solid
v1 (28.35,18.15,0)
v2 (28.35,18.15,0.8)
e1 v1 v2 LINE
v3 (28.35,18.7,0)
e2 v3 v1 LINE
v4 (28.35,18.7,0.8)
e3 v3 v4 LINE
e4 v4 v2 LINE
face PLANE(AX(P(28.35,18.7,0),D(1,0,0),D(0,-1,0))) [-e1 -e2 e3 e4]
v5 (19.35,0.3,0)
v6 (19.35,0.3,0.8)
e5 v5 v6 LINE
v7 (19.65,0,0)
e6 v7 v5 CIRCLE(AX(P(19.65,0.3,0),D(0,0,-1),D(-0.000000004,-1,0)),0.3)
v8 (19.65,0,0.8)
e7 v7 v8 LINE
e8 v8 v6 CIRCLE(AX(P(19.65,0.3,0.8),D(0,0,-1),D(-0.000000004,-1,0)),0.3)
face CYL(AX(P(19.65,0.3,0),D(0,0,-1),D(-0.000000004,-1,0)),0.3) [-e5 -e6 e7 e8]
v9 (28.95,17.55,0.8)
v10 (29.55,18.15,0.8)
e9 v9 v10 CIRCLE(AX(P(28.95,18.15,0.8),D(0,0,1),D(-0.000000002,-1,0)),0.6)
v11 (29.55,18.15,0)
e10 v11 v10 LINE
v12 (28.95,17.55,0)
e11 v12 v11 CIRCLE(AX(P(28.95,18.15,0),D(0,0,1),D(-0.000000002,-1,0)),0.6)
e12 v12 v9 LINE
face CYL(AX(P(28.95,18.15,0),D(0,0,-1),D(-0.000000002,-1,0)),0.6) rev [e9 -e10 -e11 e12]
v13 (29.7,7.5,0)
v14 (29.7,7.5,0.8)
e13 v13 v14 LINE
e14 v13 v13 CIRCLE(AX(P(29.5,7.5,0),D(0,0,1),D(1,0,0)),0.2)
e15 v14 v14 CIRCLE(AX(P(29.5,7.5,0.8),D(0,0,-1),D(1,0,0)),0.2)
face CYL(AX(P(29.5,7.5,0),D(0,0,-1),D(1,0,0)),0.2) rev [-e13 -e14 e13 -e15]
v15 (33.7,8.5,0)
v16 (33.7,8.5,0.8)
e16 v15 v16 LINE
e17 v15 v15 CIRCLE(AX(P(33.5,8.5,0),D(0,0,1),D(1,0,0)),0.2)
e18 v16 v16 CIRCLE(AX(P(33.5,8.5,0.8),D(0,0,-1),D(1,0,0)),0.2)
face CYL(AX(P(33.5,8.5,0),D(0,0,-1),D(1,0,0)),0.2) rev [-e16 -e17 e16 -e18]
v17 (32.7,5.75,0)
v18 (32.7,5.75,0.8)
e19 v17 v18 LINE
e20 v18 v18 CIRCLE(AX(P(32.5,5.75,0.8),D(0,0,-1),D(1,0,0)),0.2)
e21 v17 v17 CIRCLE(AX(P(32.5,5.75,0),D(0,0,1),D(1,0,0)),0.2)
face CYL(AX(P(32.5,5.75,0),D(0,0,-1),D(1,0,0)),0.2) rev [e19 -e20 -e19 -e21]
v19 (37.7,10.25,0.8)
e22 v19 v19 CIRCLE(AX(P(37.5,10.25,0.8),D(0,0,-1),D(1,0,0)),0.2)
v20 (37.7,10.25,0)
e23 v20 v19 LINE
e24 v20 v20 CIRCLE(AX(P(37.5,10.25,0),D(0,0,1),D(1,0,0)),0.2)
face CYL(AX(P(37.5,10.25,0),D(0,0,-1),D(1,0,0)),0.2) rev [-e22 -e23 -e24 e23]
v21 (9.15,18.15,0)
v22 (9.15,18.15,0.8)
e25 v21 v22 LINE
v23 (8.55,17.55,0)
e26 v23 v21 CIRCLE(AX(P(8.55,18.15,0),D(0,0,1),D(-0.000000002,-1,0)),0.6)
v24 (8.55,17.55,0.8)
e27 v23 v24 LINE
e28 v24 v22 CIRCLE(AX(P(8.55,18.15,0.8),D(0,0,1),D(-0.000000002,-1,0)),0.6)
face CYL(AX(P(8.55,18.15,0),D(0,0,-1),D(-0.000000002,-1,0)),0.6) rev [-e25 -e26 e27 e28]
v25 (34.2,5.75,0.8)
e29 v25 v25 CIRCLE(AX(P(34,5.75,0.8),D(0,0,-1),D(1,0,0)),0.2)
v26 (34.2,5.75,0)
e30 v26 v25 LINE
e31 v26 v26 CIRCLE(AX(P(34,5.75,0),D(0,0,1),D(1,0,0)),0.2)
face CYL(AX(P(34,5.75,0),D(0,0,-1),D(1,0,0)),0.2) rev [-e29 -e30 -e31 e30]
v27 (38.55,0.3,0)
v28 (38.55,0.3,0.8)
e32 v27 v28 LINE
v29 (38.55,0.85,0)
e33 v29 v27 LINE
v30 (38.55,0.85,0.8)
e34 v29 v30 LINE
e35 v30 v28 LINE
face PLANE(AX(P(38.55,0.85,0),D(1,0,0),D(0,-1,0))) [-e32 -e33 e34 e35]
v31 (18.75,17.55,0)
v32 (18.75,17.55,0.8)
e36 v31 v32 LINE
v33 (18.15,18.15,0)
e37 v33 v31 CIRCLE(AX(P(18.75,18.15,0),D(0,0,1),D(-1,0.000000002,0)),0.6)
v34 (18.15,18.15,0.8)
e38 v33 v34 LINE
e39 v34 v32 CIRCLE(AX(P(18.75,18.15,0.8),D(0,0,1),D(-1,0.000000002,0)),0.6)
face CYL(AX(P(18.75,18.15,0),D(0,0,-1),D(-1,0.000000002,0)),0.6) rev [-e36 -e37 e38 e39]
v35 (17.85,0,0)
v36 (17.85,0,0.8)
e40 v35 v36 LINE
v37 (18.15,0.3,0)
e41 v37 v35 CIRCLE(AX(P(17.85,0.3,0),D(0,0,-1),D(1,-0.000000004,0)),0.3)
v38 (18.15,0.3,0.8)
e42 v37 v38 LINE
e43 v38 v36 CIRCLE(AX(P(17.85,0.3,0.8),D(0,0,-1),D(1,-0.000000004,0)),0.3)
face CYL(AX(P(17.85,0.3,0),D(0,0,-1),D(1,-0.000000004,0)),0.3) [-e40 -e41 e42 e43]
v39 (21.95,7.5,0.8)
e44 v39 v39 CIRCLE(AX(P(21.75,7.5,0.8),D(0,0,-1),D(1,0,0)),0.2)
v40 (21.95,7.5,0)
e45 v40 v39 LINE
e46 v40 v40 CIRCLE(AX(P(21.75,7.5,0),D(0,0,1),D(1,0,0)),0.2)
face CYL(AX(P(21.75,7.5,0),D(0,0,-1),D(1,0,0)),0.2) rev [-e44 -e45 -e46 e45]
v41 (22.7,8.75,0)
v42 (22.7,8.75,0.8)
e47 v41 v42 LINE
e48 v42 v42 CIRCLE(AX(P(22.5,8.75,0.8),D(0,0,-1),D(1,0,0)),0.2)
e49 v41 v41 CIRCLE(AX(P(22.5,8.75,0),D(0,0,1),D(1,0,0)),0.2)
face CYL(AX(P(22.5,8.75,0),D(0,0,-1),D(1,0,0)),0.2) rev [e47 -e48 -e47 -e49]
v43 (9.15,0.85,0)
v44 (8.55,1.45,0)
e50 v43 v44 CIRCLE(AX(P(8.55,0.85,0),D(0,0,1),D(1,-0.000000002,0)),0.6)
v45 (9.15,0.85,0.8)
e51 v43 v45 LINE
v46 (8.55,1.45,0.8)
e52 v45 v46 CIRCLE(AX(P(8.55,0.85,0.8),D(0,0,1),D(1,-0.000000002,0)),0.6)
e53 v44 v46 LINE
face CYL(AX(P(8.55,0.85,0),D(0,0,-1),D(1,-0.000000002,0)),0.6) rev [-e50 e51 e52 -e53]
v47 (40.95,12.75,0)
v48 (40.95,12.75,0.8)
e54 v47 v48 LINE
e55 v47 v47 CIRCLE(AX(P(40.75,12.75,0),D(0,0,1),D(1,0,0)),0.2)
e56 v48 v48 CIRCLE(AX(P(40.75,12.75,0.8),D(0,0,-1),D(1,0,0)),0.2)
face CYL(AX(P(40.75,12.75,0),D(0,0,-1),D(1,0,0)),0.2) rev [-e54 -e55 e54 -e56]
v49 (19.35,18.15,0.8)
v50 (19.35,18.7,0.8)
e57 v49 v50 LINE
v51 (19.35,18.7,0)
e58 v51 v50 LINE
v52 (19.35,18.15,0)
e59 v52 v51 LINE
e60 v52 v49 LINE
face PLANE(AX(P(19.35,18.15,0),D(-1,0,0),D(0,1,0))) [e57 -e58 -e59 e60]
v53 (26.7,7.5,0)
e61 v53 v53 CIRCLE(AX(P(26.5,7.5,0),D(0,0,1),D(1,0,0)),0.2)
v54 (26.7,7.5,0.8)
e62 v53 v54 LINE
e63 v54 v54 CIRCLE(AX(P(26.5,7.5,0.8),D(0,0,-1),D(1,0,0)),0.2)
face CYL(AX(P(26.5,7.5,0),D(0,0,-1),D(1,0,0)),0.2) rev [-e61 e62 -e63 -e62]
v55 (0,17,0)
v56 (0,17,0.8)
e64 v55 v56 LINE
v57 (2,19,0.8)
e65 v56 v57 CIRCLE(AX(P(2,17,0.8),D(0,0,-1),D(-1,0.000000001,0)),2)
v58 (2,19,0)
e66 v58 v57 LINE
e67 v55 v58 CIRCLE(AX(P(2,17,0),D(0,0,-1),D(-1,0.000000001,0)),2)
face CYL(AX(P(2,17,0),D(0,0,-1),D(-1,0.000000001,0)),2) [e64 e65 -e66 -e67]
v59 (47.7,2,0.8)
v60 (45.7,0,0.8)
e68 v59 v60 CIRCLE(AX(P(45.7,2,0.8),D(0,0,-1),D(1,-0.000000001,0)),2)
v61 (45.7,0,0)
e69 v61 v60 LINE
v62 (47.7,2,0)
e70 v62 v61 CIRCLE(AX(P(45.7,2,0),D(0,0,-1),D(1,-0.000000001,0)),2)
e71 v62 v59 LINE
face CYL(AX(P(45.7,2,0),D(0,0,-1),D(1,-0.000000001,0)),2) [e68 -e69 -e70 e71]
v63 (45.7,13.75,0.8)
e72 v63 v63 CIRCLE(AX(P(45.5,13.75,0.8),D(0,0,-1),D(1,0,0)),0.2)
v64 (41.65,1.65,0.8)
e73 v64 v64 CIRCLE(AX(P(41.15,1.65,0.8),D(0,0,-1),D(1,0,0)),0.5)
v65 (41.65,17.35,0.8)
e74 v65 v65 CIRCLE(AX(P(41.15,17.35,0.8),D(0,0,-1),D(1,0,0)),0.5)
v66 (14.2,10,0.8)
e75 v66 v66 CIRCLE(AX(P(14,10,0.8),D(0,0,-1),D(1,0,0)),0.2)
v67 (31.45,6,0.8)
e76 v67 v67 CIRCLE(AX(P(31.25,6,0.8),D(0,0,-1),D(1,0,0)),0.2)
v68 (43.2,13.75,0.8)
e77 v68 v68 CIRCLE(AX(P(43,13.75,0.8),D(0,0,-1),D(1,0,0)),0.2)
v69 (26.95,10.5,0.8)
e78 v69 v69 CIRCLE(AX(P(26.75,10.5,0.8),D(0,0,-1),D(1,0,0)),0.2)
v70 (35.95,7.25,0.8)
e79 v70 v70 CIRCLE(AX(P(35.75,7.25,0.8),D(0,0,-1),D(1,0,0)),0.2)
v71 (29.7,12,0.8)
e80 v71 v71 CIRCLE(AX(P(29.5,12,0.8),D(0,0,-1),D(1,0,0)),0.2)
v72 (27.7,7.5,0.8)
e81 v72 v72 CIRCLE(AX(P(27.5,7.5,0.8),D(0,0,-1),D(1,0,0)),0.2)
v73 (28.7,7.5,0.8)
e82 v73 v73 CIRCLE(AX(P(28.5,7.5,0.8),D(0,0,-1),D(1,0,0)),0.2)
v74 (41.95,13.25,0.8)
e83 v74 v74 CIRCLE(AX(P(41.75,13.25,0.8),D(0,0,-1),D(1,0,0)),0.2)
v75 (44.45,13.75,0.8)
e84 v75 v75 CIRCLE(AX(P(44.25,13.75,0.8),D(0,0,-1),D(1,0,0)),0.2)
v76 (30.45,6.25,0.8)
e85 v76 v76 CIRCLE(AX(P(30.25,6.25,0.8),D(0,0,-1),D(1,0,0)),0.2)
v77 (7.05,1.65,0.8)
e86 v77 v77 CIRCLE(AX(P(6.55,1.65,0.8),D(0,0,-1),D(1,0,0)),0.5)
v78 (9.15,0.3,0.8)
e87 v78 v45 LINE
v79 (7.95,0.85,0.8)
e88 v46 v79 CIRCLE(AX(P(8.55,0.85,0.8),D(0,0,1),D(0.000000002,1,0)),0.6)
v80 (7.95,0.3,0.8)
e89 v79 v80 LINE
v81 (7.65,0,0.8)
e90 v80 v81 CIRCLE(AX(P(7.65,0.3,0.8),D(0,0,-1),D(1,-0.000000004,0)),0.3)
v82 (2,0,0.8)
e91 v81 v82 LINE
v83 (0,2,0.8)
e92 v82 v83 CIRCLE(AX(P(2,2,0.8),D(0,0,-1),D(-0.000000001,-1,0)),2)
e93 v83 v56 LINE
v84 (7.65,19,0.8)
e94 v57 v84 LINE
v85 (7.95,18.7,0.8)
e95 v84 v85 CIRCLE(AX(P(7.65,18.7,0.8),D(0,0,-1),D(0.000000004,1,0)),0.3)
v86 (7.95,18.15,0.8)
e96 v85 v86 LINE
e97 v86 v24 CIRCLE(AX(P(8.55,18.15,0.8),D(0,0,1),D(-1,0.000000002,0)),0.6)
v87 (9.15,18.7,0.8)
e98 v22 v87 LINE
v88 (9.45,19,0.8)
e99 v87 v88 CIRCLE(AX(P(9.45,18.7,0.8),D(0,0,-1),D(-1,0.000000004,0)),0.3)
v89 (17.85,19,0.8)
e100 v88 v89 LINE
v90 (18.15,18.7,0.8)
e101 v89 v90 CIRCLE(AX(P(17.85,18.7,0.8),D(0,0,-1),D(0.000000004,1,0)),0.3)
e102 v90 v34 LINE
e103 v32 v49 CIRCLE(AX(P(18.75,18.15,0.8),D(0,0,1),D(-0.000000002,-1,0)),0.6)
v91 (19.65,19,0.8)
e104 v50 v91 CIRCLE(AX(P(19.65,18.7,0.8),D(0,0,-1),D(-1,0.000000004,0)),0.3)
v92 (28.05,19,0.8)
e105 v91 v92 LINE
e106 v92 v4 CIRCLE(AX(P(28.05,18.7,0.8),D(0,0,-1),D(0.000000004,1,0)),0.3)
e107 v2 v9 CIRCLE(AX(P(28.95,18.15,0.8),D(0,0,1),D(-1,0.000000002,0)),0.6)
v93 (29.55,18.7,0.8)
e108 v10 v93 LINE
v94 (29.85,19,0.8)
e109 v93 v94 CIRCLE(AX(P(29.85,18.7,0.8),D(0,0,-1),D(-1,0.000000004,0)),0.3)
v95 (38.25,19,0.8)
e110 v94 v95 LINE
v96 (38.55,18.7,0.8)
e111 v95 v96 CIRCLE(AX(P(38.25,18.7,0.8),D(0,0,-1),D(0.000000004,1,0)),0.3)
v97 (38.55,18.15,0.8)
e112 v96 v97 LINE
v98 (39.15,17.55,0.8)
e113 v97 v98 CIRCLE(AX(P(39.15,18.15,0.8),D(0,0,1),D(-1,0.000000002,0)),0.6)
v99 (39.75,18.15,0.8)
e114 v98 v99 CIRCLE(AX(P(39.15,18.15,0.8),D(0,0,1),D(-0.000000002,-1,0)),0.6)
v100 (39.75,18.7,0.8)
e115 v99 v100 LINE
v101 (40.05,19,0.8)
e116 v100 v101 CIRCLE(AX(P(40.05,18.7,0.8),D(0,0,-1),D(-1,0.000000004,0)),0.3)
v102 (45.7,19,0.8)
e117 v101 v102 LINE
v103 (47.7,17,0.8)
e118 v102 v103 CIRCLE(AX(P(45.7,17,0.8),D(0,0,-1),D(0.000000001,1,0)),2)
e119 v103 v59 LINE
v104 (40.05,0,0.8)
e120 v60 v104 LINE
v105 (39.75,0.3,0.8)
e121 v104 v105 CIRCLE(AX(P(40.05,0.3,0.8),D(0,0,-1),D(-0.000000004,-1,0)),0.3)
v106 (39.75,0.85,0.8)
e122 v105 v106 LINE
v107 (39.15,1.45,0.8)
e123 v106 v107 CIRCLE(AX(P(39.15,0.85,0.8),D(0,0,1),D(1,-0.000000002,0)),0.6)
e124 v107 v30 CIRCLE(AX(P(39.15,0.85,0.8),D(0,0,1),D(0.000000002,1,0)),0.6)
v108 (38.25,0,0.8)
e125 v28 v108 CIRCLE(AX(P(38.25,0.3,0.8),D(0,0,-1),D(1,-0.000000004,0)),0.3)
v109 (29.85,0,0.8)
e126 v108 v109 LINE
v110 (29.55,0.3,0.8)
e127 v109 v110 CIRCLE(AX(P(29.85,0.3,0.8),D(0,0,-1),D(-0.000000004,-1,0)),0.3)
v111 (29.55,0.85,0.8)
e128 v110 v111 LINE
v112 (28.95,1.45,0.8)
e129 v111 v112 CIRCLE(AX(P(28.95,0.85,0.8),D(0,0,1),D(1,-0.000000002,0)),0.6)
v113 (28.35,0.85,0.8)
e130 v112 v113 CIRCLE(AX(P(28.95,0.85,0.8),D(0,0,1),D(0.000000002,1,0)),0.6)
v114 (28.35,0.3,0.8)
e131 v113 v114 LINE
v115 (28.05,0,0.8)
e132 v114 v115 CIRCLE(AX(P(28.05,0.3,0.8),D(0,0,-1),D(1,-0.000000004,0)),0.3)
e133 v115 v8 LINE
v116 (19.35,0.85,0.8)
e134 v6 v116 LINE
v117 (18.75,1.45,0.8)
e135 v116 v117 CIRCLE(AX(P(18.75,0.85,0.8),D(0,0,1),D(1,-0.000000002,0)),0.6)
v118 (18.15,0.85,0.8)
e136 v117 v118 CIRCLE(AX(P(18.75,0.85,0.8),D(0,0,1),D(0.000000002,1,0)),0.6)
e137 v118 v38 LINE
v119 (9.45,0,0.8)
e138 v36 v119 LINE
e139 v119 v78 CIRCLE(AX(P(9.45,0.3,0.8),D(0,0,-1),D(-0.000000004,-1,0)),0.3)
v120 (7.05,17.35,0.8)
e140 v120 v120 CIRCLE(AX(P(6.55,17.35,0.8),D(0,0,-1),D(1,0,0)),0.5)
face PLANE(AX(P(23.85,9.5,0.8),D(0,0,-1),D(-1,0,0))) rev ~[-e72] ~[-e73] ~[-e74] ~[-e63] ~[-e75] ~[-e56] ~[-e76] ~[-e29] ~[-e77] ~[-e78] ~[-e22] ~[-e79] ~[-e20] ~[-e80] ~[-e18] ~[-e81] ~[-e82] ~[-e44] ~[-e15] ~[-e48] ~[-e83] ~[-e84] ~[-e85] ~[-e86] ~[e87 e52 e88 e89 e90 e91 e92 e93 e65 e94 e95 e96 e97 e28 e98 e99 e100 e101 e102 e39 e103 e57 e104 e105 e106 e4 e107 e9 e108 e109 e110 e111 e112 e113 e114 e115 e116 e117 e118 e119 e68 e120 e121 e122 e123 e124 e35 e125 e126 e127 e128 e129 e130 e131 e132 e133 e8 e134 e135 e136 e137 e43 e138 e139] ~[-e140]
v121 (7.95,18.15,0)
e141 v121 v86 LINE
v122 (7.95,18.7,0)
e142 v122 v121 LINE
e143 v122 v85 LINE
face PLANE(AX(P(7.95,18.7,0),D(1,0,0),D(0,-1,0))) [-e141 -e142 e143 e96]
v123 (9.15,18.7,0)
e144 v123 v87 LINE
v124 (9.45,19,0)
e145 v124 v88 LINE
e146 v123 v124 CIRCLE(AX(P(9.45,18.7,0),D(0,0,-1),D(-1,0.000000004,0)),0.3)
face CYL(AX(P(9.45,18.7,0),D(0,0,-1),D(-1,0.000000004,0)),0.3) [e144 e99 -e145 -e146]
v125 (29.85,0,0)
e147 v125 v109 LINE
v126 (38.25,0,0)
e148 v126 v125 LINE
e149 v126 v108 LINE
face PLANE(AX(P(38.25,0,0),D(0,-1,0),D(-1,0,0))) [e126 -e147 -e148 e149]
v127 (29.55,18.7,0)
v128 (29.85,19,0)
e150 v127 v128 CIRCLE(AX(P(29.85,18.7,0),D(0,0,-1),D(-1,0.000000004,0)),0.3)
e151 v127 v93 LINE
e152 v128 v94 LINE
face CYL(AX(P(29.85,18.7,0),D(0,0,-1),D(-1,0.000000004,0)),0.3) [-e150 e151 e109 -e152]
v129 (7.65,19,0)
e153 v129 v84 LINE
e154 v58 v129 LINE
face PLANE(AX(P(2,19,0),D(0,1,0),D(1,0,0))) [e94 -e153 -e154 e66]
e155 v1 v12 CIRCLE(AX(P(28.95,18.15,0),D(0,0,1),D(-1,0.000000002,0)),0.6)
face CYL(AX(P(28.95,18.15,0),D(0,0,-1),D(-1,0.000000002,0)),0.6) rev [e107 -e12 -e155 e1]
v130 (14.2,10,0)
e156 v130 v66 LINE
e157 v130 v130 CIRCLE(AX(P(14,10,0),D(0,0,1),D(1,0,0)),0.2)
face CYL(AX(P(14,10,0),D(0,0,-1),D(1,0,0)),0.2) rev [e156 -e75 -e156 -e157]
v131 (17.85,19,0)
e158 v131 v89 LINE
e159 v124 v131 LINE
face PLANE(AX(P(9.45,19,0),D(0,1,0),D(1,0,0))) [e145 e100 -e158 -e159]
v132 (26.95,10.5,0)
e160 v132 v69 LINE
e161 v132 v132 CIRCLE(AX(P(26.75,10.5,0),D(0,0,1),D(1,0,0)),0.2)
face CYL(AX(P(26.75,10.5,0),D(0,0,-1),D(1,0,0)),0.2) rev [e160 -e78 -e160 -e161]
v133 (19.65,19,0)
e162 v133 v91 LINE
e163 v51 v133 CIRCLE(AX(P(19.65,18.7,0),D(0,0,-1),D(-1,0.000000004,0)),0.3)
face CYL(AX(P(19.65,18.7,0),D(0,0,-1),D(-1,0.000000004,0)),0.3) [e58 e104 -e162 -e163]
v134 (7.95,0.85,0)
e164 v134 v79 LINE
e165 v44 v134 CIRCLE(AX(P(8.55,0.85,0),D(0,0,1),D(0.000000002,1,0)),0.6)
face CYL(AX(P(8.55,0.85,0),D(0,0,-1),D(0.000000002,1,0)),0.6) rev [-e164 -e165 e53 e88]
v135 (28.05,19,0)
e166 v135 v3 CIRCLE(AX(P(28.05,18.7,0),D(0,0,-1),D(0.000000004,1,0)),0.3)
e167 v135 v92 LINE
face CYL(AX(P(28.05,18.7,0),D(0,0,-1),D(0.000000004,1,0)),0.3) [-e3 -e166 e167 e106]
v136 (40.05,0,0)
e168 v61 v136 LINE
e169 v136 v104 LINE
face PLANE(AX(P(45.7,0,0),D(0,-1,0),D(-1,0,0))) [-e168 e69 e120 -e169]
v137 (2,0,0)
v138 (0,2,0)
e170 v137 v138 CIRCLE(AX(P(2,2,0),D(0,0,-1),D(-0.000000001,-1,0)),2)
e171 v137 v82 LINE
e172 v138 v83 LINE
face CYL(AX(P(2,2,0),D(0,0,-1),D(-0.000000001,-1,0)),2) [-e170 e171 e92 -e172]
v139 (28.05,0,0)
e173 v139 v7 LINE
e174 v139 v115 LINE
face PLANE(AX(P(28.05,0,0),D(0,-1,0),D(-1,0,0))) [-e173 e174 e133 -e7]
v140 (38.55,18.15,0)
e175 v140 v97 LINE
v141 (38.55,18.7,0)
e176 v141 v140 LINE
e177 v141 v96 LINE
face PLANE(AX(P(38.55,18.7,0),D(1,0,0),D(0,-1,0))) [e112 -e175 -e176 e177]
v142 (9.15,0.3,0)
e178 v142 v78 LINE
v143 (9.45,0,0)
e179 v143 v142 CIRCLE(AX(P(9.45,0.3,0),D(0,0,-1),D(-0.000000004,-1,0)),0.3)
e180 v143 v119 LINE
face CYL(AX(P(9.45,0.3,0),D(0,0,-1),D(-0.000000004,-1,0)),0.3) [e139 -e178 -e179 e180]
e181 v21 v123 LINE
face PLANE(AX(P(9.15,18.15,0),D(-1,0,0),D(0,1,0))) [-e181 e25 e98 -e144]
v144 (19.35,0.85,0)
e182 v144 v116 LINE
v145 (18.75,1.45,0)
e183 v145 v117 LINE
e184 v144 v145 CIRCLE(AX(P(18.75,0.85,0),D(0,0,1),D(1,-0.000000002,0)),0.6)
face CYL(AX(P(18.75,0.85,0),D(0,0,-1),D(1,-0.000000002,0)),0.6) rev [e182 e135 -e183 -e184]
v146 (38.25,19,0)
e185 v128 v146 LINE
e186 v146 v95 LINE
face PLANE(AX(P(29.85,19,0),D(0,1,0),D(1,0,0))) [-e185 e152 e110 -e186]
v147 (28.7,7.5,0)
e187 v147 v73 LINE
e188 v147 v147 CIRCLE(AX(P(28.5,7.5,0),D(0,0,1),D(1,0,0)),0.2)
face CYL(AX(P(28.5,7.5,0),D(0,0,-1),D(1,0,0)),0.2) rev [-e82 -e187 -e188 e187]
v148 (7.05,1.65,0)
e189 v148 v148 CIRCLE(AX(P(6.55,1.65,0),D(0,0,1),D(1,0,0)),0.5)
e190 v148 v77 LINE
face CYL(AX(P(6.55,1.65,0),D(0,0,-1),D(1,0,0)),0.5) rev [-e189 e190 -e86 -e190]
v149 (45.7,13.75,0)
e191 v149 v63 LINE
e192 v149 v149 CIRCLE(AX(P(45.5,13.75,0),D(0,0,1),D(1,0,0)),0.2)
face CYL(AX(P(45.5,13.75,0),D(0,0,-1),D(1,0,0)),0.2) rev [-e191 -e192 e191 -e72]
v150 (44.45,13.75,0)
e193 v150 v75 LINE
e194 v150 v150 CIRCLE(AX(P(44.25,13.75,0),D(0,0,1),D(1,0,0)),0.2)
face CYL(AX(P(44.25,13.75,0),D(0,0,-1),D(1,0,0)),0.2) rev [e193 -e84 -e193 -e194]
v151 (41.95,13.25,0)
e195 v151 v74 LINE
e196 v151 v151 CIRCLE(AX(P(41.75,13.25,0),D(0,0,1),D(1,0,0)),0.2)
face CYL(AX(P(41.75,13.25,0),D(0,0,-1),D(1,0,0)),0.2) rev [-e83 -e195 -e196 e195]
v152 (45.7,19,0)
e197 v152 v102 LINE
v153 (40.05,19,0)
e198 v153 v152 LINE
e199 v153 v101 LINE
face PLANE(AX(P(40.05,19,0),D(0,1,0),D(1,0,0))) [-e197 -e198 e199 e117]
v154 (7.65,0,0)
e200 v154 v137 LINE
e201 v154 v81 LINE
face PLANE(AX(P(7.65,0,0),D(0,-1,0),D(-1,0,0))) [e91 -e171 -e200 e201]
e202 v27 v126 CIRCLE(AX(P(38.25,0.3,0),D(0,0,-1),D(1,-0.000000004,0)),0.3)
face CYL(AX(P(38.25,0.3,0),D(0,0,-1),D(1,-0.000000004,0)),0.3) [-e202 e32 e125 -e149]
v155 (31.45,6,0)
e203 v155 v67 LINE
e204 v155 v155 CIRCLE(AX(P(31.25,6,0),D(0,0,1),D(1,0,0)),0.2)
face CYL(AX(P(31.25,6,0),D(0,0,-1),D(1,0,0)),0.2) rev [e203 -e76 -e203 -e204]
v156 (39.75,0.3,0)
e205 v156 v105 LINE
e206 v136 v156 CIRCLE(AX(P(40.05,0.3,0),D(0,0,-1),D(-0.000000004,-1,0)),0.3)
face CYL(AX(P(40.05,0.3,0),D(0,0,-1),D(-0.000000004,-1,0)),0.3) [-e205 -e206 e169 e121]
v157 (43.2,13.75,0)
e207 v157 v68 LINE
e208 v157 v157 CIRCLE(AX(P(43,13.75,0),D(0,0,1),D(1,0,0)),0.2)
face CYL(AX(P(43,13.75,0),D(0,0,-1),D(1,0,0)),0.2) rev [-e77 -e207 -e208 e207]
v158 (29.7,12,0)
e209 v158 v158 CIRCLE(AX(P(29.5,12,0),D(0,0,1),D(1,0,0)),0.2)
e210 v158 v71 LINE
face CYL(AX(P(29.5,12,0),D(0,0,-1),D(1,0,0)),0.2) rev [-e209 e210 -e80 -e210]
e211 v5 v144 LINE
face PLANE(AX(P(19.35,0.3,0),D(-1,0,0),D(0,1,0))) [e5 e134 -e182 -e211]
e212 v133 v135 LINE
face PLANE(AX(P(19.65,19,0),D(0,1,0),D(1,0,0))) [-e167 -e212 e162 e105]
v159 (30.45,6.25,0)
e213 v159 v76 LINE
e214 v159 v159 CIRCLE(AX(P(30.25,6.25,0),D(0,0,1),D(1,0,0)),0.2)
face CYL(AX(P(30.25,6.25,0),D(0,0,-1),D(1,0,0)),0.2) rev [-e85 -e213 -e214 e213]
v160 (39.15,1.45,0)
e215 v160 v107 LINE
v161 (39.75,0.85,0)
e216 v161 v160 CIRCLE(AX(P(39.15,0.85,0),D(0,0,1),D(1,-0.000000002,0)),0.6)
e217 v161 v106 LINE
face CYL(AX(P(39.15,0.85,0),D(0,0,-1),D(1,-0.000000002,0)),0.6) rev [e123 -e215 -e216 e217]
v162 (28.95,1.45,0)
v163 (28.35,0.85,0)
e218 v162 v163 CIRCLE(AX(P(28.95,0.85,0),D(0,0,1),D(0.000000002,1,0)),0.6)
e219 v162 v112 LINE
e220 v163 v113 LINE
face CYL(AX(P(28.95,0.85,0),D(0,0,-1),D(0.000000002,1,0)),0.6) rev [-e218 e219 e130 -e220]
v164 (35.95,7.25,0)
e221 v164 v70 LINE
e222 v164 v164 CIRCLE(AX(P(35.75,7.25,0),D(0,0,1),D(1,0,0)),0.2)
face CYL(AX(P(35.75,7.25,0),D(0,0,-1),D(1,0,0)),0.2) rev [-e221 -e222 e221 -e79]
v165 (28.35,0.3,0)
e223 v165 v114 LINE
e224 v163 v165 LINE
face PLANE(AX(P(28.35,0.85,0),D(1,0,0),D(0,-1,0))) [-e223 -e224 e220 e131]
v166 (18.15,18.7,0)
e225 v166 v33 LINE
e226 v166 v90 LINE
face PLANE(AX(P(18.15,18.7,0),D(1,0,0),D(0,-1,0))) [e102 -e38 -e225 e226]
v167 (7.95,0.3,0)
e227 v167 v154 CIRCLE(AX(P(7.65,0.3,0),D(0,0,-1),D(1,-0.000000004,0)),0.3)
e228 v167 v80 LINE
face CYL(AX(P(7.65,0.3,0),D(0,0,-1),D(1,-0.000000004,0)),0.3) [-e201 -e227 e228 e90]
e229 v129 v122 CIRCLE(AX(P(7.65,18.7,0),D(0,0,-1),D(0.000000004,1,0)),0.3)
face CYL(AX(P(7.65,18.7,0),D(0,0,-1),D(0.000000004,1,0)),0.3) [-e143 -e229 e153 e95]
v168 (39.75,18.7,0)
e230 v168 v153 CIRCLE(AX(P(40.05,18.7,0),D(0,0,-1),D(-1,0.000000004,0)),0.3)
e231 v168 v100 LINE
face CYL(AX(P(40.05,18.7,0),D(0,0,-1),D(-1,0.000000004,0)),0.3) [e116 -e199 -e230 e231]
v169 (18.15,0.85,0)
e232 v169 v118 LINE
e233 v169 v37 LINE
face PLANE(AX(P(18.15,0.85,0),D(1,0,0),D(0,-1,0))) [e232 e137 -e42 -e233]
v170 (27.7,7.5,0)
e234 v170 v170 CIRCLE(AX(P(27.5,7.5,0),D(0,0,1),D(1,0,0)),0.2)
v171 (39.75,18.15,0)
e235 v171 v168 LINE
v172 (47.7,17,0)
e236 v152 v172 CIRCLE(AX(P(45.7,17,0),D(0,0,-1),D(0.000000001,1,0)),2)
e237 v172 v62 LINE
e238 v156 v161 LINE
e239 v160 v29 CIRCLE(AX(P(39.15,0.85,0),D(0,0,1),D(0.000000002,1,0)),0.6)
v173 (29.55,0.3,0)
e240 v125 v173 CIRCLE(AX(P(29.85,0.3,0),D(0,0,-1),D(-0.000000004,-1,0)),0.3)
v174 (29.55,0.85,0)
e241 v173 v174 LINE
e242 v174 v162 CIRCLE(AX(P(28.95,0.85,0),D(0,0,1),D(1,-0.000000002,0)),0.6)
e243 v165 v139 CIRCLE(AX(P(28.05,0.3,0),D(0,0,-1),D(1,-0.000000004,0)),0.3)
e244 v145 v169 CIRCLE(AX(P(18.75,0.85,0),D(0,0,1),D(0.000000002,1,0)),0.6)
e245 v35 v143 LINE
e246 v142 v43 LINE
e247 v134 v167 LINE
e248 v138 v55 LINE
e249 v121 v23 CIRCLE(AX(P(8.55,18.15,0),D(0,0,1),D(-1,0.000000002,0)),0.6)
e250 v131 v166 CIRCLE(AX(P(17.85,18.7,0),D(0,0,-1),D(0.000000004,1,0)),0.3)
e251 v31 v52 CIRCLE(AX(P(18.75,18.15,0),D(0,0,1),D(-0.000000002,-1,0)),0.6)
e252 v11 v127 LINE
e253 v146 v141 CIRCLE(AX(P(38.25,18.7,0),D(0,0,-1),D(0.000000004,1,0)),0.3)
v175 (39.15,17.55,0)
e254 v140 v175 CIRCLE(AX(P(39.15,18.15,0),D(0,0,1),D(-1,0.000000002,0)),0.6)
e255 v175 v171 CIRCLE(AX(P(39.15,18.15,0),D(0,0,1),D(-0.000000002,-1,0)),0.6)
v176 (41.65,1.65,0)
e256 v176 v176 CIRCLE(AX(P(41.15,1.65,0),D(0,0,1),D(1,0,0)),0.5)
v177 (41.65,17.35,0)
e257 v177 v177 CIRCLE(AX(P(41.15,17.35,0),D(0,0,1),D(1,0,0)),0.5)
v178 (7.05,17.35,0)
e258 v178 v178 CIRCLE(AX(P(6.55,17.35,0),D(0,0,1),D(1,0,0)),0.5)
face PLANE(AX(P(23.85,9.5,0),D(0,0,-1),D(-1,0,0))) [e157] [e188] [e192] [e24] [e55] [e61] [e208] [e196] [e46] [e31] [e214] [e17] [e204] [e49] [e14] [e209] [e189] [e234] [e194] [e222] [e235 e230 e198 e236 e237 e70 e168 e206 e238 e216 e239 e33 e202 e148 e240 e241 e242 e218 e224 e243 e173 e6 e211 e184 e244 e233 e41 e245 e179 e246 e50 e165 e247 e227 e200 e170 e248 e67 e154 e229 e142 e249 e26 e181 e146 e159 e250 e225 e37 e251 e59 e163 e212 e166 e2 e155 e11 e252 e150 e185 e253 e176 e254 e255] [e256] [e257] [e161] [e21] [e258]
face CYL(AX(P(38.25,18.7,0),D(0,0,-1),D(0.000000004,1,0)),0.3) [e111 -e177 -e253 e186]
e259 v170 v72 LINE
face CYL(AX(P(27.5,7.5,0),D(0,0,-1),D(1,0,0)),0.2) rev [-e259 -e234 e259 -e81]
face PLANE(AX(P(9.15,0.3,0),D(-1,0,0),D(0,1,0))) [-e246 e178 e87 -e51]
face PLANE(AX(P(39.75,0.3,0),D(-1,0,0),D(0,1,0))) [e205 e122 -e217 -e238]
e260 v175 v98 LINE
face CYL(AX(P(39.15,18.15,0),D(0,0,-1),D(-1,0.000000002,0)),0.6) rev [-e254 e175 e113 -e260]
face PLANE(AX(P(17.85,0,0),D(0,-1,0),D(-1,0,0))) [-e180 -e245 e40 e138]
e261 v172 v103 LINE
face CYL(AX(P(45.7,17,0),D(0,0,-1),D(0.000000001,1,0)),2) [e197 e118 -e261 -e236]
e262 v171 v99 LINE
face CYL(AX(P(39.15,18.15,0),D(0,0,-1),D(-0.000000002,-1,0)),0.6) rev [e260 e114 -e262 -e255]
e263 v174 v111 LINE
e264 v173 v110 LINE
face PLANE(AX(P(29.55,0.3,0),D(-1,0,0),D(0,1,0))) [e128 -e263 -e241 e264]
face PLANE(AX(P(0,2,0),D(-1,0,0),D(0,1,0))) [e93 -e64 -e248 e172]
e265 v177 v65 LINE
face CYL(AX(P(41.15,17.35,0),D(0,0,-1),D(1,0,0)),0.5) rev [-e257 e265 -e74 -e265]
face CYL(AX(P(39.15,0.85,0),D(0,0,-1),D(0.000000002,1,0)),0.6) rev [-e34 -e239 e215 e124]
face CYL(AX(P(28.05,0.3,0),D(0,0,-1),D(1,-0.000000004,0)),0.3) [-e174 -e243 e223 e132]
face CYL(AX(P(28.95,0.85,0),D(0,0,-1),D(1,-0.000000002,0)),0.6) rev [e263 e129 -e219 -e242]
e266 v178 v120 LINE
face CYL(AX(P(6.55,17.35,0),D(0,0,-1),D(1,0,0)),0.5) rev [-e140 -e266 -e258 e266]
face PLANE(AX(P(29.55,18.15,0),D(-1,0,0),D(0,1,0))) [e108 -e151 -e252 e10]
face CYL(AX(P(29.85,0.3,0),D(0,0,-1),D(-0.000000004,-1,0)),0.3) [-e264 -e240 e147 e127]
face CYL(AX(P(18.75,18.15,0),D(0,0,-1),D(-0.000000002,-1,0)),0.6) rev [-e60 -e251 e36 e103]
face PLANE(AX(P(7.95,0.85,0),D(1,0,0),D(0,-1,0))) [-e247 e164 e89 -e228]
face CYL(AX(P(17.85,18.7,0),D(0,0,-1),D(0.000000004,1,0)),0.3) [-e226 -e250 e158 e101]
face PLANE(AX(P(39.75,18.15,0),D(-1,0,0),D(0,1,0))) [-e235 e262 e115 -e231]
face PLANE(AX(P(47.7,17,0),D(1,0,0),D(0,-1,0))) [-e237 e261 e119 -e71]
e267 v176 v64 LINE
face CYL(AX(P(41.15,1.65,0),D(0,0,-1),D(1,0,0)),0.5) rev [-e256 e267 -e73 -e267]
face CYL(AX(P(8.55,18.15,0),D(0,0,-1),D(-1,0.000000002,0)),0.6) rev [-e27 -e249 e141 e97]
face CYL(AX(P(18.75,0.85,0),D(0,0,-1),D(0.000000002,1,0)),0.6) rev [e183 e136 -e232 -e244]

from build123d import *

# Parameters (mm, degrees)
BOARD_DEPTH            = 0.8
SKETCH2_R              = 0.5
NON_PLATED_HOLES_DEPTH = 52.351046727
SKETCH3_R              = 0.2
PLATED_HOLES_DEPTH     = 52.351046727


with BuildPart() as part:
    # Sketch1 → BOARD (new body)
    with BuildSketch(Plane.XY):
        with BuildLine():
            Line((7.65, 0), (2, 0))
            ThreePointArc((2, 0), (0.585786438, 0.585786438), (0, 2))
            Line((0, 2), (0, 17))
            ThreePointArc((0, 17), (0.585786438, 18.414213562), (2, 19))
            Line((2, 19), (7.65, 19))
            ThreePointArc((7.65, 19), (7.862132034, 18.912132034), (7.95, 18.7))
            Line((7.95, 18.7), (7.95, 18.15))
            ThreePointArc((7.95, 18.15), (8.125735931, 17.725735931), (8.55, 17.55))
            ThreePointArc((8.55, 17.55), (8.974264069, 17.725735931), (9.15, 18.15))
            Line((9.15, 18.15), (9.15, 18.7))
            ThreePointArc((9.15, 18.7), (9.237867966, 18.912132034), (9.45, 19))
            Line((9.45, 19), (17.85, 19))
            ThreePointArc((17.85, 19), (18.062132034, 18.912132034), (18.15, 18.7))
            Line((18.15, 18.7), (18.15, 18.15))
            ThreePointArc((18.15, 18.15), (18.325735931, 17.725735931), (18.75, 17.55))
            ThreePointArc((18.75, 17.55), (19.174264069, 17.725735931), (19.35, 18.15))
            Line((19.35, 18.15), (19.35, 18.7))
            ThreePointArc((19.35, 18.7), (19.437867966, 18.912132034), (19.65, 19))
            Line((19.65, 19), (28.05, 19))
            ThreePointArc((28.05, 19), (28.262132034, 18.912132034), (28.35, 18.7))
            Line((28.35, 18.7), (28.35, 18.15))
            ThreePointArc((28.35, 18.15), (28.525735931, 17.725735931), (28.95, 17.55))
            ThreePointArc((28.95, 17.55), (29.374264069, 17.725735931), (29.55, 18.15))
            Line((29.55, 18.15), (29.55, 18.7))
            ThreePointArc((29.55, 18.7), (29.637867966, 18.912132034), (29.85, 19))
            Line((29.85, 19), (38.25, 19))
            ThreePointArc((38.25, 19), (38.462132034, 18.912132034), (38.55, 18.7))
            Line((38.55, 18.7), (38.55, 18.15))
            ThreePointArc((38.55, 18.15), (38.725735931, 17.725735931), (39.15, 17.55))
            ThreePointArc((39.15, 17.55), (39.574264069, 17.725735931), (39.75, 18.15))
            Line((39.75, 18.15), (39.75, 18.7))
            ThreePointArc((39.75, 18.7), (39.837867966, 18.912132034), (40.05, 19))
            Line((40.05, 19), (45.7, 19))
            ThreePointArc((45.7, 19), (47.114213562, 18.414213562), (47.7, 17))
            Line((47.7, 17), (47.7, 2))
            ThreePointArc((47.7, 2), (47.114213562, 0.585786438), (45.7, 0))
            Line((45.7, 0), (40.05, 0))
            ThreePointArc((40.05, 0), (39.837867966, 0.087867966), (39.75, 0.3))
            Line((39.75, 0.3), (39.75, 0.85))
            ThreePointArc((39.75, 0.85), (39.574264069, 1.274264069), (39.15, 1.45))
            ThreePointArc((39.15, 1.45), (38.725735931, 1.274264069), (38.55, 0.85))
            Line((38.55, 0.85), (38.55, 0.3))
            ThreePointArc((38.55, 0.3), (38.462132034, 0.087867966), (38.25, 0))
            Line((38.25, 0), (29.85, 0))
            ThreePointArc((29.85, 0), (29.637867966, 0.087867966), (29.55, 0.3))
            Line((29.55, 0.3), (29.55, 0.85))
            ThreePointArc((29.55, 0.85), (29.374264069, 1.274264069), (28.95, 1.45))
            ThreePointArc((28.95, 1.45), (28.525735931, 1.274264069), (28.35, 0.85))
            Line((28.35, 0.85), (28.35, 0.3))
            ThreePointArc((28.35, 0.3), (28.262132034, 0.087867966), (28.05, 0))
            Line((28.05, 0), (19.65, 0))
            ThreePointArc((19.65, 0), (19.437867966, 0.087867966), (19.35, 0.3))
            Line((19.35, 0.3), (19.35, 0.85))
            ThreePointArc((19.35, 0.85), (19.174264069, 1.274264069), (18.75, 1.45))
            ThreePointArc((18.75, 1.45), (18.325735931, 1.274264069), (18.15, 0.85))
            Line((18.15, 0.85), (18.15, 0.3))
            ThreePointArc((18.15, 0.3), (18.062132034, 0.087867966), (17.85, 0))
            Line((17.85, 0), (9.45, 0))
            ThreePointArc((9.45, 0), (9.237867966, 0.087867966), (9.15, 0.3))
            Line((9.15, 0.3), (9.15, 0.85))
            ThreePointArc((9.15, 0.85), (8.974264069, 1.274264069), (8.55, 1.45))
            ThreePointArc((8.55, 1.45), (8.125735931, 1.274264069), (7.95, 0.85))
            Line((7.95, 0.85), (7.95, 0.3))
            ThreePointArc((7.95, 0.3), (7.862132034, 0.087867966), (7.65, 0))
        make_face()
    extrude(amount=BOARD_DEPTH)

    # Sketch2 → NON-PLATED HOLES (cut, through all)
    with BuildSketch(Plane.XY):
        with Locations((6.55, 17.35)):
            Circle(SKETCH2_R)
        with Locations((6.55, 1.65)):
            Circle(SKETCH2_R)
        with Locations((41.15, 17.35)):
            Circle(SKETCH2_R)
        with Locations((41.15, 1.65)):
            Circle(SKETCH2_R)
    extrude(amount=NON_PLATED_HOLES_DEPTH, mode=Mode.SUBTRACT)

    # Sketch3 → PLATED HOLES (cut, through all)
    with BuildSketch(Plane.XY):
        with Locations((37.5, 10.25)):
            Circle(SKETCH3_R)
        with Locations((26.75, 10.5)):
            Circle(SKETCH3_R)
        with Locations((14, 10)):
            Circle(SKETCH3_R)
        with Locations((30.25, 6.25)):
            Circle(SKETCH3_R)
        with Locations((31.25, 6)):
            Circle(SKETCH3_R)
        with Locations((32.5, 5.75)):
            Circle(SKETCH3_R)
        with Locations((34, 5.75)):
            Circle(SKETCH3_R)
        with Locations((33.5, 8.5)):
            Circle(SKETCH3_R)
        with Locations((35.75, 7.25)):
            Circle(SKETCH3_R)
        with Locations((21.75, 7.5)):
            Circle(SKETCH3_R)
        with Locations((22.5, 8.75)):
            Circle(SKETCH3_R)
        with Locations((29.5, 7.5)):
            Circle(SKETCH3_R)
        with Locations((28.5, 7.5)):
            Circle(SKETCH3_R)
        with Locations((27.5, 7.5)):
            Circle(SKETCH3_R)
        with Locations((26.5, 7.5)):
            Circle(SKETCH3_R)
        with Locations((29.5, 12)):
            Circle(SKETCH3_R)
        with Locations((40.75, 12.75)):
            Circle(SKETCH3_R)
        with Locations((41.75, 13.25)):
            Circle(SKETCH3_R)
        with Locations((43, 13.75)):
            Circle(SKETCH3_R)
        with Locations((44.25, 13.75)):
            Circle(SKETCH3_R)
        with Locations((45.5, 13.75)):
            Circle(SKETCH3_R)
    extrude(amount=PLATED_HOLES_DEPTH, mode=Mode.SUBTRACT)


solid = part.part
